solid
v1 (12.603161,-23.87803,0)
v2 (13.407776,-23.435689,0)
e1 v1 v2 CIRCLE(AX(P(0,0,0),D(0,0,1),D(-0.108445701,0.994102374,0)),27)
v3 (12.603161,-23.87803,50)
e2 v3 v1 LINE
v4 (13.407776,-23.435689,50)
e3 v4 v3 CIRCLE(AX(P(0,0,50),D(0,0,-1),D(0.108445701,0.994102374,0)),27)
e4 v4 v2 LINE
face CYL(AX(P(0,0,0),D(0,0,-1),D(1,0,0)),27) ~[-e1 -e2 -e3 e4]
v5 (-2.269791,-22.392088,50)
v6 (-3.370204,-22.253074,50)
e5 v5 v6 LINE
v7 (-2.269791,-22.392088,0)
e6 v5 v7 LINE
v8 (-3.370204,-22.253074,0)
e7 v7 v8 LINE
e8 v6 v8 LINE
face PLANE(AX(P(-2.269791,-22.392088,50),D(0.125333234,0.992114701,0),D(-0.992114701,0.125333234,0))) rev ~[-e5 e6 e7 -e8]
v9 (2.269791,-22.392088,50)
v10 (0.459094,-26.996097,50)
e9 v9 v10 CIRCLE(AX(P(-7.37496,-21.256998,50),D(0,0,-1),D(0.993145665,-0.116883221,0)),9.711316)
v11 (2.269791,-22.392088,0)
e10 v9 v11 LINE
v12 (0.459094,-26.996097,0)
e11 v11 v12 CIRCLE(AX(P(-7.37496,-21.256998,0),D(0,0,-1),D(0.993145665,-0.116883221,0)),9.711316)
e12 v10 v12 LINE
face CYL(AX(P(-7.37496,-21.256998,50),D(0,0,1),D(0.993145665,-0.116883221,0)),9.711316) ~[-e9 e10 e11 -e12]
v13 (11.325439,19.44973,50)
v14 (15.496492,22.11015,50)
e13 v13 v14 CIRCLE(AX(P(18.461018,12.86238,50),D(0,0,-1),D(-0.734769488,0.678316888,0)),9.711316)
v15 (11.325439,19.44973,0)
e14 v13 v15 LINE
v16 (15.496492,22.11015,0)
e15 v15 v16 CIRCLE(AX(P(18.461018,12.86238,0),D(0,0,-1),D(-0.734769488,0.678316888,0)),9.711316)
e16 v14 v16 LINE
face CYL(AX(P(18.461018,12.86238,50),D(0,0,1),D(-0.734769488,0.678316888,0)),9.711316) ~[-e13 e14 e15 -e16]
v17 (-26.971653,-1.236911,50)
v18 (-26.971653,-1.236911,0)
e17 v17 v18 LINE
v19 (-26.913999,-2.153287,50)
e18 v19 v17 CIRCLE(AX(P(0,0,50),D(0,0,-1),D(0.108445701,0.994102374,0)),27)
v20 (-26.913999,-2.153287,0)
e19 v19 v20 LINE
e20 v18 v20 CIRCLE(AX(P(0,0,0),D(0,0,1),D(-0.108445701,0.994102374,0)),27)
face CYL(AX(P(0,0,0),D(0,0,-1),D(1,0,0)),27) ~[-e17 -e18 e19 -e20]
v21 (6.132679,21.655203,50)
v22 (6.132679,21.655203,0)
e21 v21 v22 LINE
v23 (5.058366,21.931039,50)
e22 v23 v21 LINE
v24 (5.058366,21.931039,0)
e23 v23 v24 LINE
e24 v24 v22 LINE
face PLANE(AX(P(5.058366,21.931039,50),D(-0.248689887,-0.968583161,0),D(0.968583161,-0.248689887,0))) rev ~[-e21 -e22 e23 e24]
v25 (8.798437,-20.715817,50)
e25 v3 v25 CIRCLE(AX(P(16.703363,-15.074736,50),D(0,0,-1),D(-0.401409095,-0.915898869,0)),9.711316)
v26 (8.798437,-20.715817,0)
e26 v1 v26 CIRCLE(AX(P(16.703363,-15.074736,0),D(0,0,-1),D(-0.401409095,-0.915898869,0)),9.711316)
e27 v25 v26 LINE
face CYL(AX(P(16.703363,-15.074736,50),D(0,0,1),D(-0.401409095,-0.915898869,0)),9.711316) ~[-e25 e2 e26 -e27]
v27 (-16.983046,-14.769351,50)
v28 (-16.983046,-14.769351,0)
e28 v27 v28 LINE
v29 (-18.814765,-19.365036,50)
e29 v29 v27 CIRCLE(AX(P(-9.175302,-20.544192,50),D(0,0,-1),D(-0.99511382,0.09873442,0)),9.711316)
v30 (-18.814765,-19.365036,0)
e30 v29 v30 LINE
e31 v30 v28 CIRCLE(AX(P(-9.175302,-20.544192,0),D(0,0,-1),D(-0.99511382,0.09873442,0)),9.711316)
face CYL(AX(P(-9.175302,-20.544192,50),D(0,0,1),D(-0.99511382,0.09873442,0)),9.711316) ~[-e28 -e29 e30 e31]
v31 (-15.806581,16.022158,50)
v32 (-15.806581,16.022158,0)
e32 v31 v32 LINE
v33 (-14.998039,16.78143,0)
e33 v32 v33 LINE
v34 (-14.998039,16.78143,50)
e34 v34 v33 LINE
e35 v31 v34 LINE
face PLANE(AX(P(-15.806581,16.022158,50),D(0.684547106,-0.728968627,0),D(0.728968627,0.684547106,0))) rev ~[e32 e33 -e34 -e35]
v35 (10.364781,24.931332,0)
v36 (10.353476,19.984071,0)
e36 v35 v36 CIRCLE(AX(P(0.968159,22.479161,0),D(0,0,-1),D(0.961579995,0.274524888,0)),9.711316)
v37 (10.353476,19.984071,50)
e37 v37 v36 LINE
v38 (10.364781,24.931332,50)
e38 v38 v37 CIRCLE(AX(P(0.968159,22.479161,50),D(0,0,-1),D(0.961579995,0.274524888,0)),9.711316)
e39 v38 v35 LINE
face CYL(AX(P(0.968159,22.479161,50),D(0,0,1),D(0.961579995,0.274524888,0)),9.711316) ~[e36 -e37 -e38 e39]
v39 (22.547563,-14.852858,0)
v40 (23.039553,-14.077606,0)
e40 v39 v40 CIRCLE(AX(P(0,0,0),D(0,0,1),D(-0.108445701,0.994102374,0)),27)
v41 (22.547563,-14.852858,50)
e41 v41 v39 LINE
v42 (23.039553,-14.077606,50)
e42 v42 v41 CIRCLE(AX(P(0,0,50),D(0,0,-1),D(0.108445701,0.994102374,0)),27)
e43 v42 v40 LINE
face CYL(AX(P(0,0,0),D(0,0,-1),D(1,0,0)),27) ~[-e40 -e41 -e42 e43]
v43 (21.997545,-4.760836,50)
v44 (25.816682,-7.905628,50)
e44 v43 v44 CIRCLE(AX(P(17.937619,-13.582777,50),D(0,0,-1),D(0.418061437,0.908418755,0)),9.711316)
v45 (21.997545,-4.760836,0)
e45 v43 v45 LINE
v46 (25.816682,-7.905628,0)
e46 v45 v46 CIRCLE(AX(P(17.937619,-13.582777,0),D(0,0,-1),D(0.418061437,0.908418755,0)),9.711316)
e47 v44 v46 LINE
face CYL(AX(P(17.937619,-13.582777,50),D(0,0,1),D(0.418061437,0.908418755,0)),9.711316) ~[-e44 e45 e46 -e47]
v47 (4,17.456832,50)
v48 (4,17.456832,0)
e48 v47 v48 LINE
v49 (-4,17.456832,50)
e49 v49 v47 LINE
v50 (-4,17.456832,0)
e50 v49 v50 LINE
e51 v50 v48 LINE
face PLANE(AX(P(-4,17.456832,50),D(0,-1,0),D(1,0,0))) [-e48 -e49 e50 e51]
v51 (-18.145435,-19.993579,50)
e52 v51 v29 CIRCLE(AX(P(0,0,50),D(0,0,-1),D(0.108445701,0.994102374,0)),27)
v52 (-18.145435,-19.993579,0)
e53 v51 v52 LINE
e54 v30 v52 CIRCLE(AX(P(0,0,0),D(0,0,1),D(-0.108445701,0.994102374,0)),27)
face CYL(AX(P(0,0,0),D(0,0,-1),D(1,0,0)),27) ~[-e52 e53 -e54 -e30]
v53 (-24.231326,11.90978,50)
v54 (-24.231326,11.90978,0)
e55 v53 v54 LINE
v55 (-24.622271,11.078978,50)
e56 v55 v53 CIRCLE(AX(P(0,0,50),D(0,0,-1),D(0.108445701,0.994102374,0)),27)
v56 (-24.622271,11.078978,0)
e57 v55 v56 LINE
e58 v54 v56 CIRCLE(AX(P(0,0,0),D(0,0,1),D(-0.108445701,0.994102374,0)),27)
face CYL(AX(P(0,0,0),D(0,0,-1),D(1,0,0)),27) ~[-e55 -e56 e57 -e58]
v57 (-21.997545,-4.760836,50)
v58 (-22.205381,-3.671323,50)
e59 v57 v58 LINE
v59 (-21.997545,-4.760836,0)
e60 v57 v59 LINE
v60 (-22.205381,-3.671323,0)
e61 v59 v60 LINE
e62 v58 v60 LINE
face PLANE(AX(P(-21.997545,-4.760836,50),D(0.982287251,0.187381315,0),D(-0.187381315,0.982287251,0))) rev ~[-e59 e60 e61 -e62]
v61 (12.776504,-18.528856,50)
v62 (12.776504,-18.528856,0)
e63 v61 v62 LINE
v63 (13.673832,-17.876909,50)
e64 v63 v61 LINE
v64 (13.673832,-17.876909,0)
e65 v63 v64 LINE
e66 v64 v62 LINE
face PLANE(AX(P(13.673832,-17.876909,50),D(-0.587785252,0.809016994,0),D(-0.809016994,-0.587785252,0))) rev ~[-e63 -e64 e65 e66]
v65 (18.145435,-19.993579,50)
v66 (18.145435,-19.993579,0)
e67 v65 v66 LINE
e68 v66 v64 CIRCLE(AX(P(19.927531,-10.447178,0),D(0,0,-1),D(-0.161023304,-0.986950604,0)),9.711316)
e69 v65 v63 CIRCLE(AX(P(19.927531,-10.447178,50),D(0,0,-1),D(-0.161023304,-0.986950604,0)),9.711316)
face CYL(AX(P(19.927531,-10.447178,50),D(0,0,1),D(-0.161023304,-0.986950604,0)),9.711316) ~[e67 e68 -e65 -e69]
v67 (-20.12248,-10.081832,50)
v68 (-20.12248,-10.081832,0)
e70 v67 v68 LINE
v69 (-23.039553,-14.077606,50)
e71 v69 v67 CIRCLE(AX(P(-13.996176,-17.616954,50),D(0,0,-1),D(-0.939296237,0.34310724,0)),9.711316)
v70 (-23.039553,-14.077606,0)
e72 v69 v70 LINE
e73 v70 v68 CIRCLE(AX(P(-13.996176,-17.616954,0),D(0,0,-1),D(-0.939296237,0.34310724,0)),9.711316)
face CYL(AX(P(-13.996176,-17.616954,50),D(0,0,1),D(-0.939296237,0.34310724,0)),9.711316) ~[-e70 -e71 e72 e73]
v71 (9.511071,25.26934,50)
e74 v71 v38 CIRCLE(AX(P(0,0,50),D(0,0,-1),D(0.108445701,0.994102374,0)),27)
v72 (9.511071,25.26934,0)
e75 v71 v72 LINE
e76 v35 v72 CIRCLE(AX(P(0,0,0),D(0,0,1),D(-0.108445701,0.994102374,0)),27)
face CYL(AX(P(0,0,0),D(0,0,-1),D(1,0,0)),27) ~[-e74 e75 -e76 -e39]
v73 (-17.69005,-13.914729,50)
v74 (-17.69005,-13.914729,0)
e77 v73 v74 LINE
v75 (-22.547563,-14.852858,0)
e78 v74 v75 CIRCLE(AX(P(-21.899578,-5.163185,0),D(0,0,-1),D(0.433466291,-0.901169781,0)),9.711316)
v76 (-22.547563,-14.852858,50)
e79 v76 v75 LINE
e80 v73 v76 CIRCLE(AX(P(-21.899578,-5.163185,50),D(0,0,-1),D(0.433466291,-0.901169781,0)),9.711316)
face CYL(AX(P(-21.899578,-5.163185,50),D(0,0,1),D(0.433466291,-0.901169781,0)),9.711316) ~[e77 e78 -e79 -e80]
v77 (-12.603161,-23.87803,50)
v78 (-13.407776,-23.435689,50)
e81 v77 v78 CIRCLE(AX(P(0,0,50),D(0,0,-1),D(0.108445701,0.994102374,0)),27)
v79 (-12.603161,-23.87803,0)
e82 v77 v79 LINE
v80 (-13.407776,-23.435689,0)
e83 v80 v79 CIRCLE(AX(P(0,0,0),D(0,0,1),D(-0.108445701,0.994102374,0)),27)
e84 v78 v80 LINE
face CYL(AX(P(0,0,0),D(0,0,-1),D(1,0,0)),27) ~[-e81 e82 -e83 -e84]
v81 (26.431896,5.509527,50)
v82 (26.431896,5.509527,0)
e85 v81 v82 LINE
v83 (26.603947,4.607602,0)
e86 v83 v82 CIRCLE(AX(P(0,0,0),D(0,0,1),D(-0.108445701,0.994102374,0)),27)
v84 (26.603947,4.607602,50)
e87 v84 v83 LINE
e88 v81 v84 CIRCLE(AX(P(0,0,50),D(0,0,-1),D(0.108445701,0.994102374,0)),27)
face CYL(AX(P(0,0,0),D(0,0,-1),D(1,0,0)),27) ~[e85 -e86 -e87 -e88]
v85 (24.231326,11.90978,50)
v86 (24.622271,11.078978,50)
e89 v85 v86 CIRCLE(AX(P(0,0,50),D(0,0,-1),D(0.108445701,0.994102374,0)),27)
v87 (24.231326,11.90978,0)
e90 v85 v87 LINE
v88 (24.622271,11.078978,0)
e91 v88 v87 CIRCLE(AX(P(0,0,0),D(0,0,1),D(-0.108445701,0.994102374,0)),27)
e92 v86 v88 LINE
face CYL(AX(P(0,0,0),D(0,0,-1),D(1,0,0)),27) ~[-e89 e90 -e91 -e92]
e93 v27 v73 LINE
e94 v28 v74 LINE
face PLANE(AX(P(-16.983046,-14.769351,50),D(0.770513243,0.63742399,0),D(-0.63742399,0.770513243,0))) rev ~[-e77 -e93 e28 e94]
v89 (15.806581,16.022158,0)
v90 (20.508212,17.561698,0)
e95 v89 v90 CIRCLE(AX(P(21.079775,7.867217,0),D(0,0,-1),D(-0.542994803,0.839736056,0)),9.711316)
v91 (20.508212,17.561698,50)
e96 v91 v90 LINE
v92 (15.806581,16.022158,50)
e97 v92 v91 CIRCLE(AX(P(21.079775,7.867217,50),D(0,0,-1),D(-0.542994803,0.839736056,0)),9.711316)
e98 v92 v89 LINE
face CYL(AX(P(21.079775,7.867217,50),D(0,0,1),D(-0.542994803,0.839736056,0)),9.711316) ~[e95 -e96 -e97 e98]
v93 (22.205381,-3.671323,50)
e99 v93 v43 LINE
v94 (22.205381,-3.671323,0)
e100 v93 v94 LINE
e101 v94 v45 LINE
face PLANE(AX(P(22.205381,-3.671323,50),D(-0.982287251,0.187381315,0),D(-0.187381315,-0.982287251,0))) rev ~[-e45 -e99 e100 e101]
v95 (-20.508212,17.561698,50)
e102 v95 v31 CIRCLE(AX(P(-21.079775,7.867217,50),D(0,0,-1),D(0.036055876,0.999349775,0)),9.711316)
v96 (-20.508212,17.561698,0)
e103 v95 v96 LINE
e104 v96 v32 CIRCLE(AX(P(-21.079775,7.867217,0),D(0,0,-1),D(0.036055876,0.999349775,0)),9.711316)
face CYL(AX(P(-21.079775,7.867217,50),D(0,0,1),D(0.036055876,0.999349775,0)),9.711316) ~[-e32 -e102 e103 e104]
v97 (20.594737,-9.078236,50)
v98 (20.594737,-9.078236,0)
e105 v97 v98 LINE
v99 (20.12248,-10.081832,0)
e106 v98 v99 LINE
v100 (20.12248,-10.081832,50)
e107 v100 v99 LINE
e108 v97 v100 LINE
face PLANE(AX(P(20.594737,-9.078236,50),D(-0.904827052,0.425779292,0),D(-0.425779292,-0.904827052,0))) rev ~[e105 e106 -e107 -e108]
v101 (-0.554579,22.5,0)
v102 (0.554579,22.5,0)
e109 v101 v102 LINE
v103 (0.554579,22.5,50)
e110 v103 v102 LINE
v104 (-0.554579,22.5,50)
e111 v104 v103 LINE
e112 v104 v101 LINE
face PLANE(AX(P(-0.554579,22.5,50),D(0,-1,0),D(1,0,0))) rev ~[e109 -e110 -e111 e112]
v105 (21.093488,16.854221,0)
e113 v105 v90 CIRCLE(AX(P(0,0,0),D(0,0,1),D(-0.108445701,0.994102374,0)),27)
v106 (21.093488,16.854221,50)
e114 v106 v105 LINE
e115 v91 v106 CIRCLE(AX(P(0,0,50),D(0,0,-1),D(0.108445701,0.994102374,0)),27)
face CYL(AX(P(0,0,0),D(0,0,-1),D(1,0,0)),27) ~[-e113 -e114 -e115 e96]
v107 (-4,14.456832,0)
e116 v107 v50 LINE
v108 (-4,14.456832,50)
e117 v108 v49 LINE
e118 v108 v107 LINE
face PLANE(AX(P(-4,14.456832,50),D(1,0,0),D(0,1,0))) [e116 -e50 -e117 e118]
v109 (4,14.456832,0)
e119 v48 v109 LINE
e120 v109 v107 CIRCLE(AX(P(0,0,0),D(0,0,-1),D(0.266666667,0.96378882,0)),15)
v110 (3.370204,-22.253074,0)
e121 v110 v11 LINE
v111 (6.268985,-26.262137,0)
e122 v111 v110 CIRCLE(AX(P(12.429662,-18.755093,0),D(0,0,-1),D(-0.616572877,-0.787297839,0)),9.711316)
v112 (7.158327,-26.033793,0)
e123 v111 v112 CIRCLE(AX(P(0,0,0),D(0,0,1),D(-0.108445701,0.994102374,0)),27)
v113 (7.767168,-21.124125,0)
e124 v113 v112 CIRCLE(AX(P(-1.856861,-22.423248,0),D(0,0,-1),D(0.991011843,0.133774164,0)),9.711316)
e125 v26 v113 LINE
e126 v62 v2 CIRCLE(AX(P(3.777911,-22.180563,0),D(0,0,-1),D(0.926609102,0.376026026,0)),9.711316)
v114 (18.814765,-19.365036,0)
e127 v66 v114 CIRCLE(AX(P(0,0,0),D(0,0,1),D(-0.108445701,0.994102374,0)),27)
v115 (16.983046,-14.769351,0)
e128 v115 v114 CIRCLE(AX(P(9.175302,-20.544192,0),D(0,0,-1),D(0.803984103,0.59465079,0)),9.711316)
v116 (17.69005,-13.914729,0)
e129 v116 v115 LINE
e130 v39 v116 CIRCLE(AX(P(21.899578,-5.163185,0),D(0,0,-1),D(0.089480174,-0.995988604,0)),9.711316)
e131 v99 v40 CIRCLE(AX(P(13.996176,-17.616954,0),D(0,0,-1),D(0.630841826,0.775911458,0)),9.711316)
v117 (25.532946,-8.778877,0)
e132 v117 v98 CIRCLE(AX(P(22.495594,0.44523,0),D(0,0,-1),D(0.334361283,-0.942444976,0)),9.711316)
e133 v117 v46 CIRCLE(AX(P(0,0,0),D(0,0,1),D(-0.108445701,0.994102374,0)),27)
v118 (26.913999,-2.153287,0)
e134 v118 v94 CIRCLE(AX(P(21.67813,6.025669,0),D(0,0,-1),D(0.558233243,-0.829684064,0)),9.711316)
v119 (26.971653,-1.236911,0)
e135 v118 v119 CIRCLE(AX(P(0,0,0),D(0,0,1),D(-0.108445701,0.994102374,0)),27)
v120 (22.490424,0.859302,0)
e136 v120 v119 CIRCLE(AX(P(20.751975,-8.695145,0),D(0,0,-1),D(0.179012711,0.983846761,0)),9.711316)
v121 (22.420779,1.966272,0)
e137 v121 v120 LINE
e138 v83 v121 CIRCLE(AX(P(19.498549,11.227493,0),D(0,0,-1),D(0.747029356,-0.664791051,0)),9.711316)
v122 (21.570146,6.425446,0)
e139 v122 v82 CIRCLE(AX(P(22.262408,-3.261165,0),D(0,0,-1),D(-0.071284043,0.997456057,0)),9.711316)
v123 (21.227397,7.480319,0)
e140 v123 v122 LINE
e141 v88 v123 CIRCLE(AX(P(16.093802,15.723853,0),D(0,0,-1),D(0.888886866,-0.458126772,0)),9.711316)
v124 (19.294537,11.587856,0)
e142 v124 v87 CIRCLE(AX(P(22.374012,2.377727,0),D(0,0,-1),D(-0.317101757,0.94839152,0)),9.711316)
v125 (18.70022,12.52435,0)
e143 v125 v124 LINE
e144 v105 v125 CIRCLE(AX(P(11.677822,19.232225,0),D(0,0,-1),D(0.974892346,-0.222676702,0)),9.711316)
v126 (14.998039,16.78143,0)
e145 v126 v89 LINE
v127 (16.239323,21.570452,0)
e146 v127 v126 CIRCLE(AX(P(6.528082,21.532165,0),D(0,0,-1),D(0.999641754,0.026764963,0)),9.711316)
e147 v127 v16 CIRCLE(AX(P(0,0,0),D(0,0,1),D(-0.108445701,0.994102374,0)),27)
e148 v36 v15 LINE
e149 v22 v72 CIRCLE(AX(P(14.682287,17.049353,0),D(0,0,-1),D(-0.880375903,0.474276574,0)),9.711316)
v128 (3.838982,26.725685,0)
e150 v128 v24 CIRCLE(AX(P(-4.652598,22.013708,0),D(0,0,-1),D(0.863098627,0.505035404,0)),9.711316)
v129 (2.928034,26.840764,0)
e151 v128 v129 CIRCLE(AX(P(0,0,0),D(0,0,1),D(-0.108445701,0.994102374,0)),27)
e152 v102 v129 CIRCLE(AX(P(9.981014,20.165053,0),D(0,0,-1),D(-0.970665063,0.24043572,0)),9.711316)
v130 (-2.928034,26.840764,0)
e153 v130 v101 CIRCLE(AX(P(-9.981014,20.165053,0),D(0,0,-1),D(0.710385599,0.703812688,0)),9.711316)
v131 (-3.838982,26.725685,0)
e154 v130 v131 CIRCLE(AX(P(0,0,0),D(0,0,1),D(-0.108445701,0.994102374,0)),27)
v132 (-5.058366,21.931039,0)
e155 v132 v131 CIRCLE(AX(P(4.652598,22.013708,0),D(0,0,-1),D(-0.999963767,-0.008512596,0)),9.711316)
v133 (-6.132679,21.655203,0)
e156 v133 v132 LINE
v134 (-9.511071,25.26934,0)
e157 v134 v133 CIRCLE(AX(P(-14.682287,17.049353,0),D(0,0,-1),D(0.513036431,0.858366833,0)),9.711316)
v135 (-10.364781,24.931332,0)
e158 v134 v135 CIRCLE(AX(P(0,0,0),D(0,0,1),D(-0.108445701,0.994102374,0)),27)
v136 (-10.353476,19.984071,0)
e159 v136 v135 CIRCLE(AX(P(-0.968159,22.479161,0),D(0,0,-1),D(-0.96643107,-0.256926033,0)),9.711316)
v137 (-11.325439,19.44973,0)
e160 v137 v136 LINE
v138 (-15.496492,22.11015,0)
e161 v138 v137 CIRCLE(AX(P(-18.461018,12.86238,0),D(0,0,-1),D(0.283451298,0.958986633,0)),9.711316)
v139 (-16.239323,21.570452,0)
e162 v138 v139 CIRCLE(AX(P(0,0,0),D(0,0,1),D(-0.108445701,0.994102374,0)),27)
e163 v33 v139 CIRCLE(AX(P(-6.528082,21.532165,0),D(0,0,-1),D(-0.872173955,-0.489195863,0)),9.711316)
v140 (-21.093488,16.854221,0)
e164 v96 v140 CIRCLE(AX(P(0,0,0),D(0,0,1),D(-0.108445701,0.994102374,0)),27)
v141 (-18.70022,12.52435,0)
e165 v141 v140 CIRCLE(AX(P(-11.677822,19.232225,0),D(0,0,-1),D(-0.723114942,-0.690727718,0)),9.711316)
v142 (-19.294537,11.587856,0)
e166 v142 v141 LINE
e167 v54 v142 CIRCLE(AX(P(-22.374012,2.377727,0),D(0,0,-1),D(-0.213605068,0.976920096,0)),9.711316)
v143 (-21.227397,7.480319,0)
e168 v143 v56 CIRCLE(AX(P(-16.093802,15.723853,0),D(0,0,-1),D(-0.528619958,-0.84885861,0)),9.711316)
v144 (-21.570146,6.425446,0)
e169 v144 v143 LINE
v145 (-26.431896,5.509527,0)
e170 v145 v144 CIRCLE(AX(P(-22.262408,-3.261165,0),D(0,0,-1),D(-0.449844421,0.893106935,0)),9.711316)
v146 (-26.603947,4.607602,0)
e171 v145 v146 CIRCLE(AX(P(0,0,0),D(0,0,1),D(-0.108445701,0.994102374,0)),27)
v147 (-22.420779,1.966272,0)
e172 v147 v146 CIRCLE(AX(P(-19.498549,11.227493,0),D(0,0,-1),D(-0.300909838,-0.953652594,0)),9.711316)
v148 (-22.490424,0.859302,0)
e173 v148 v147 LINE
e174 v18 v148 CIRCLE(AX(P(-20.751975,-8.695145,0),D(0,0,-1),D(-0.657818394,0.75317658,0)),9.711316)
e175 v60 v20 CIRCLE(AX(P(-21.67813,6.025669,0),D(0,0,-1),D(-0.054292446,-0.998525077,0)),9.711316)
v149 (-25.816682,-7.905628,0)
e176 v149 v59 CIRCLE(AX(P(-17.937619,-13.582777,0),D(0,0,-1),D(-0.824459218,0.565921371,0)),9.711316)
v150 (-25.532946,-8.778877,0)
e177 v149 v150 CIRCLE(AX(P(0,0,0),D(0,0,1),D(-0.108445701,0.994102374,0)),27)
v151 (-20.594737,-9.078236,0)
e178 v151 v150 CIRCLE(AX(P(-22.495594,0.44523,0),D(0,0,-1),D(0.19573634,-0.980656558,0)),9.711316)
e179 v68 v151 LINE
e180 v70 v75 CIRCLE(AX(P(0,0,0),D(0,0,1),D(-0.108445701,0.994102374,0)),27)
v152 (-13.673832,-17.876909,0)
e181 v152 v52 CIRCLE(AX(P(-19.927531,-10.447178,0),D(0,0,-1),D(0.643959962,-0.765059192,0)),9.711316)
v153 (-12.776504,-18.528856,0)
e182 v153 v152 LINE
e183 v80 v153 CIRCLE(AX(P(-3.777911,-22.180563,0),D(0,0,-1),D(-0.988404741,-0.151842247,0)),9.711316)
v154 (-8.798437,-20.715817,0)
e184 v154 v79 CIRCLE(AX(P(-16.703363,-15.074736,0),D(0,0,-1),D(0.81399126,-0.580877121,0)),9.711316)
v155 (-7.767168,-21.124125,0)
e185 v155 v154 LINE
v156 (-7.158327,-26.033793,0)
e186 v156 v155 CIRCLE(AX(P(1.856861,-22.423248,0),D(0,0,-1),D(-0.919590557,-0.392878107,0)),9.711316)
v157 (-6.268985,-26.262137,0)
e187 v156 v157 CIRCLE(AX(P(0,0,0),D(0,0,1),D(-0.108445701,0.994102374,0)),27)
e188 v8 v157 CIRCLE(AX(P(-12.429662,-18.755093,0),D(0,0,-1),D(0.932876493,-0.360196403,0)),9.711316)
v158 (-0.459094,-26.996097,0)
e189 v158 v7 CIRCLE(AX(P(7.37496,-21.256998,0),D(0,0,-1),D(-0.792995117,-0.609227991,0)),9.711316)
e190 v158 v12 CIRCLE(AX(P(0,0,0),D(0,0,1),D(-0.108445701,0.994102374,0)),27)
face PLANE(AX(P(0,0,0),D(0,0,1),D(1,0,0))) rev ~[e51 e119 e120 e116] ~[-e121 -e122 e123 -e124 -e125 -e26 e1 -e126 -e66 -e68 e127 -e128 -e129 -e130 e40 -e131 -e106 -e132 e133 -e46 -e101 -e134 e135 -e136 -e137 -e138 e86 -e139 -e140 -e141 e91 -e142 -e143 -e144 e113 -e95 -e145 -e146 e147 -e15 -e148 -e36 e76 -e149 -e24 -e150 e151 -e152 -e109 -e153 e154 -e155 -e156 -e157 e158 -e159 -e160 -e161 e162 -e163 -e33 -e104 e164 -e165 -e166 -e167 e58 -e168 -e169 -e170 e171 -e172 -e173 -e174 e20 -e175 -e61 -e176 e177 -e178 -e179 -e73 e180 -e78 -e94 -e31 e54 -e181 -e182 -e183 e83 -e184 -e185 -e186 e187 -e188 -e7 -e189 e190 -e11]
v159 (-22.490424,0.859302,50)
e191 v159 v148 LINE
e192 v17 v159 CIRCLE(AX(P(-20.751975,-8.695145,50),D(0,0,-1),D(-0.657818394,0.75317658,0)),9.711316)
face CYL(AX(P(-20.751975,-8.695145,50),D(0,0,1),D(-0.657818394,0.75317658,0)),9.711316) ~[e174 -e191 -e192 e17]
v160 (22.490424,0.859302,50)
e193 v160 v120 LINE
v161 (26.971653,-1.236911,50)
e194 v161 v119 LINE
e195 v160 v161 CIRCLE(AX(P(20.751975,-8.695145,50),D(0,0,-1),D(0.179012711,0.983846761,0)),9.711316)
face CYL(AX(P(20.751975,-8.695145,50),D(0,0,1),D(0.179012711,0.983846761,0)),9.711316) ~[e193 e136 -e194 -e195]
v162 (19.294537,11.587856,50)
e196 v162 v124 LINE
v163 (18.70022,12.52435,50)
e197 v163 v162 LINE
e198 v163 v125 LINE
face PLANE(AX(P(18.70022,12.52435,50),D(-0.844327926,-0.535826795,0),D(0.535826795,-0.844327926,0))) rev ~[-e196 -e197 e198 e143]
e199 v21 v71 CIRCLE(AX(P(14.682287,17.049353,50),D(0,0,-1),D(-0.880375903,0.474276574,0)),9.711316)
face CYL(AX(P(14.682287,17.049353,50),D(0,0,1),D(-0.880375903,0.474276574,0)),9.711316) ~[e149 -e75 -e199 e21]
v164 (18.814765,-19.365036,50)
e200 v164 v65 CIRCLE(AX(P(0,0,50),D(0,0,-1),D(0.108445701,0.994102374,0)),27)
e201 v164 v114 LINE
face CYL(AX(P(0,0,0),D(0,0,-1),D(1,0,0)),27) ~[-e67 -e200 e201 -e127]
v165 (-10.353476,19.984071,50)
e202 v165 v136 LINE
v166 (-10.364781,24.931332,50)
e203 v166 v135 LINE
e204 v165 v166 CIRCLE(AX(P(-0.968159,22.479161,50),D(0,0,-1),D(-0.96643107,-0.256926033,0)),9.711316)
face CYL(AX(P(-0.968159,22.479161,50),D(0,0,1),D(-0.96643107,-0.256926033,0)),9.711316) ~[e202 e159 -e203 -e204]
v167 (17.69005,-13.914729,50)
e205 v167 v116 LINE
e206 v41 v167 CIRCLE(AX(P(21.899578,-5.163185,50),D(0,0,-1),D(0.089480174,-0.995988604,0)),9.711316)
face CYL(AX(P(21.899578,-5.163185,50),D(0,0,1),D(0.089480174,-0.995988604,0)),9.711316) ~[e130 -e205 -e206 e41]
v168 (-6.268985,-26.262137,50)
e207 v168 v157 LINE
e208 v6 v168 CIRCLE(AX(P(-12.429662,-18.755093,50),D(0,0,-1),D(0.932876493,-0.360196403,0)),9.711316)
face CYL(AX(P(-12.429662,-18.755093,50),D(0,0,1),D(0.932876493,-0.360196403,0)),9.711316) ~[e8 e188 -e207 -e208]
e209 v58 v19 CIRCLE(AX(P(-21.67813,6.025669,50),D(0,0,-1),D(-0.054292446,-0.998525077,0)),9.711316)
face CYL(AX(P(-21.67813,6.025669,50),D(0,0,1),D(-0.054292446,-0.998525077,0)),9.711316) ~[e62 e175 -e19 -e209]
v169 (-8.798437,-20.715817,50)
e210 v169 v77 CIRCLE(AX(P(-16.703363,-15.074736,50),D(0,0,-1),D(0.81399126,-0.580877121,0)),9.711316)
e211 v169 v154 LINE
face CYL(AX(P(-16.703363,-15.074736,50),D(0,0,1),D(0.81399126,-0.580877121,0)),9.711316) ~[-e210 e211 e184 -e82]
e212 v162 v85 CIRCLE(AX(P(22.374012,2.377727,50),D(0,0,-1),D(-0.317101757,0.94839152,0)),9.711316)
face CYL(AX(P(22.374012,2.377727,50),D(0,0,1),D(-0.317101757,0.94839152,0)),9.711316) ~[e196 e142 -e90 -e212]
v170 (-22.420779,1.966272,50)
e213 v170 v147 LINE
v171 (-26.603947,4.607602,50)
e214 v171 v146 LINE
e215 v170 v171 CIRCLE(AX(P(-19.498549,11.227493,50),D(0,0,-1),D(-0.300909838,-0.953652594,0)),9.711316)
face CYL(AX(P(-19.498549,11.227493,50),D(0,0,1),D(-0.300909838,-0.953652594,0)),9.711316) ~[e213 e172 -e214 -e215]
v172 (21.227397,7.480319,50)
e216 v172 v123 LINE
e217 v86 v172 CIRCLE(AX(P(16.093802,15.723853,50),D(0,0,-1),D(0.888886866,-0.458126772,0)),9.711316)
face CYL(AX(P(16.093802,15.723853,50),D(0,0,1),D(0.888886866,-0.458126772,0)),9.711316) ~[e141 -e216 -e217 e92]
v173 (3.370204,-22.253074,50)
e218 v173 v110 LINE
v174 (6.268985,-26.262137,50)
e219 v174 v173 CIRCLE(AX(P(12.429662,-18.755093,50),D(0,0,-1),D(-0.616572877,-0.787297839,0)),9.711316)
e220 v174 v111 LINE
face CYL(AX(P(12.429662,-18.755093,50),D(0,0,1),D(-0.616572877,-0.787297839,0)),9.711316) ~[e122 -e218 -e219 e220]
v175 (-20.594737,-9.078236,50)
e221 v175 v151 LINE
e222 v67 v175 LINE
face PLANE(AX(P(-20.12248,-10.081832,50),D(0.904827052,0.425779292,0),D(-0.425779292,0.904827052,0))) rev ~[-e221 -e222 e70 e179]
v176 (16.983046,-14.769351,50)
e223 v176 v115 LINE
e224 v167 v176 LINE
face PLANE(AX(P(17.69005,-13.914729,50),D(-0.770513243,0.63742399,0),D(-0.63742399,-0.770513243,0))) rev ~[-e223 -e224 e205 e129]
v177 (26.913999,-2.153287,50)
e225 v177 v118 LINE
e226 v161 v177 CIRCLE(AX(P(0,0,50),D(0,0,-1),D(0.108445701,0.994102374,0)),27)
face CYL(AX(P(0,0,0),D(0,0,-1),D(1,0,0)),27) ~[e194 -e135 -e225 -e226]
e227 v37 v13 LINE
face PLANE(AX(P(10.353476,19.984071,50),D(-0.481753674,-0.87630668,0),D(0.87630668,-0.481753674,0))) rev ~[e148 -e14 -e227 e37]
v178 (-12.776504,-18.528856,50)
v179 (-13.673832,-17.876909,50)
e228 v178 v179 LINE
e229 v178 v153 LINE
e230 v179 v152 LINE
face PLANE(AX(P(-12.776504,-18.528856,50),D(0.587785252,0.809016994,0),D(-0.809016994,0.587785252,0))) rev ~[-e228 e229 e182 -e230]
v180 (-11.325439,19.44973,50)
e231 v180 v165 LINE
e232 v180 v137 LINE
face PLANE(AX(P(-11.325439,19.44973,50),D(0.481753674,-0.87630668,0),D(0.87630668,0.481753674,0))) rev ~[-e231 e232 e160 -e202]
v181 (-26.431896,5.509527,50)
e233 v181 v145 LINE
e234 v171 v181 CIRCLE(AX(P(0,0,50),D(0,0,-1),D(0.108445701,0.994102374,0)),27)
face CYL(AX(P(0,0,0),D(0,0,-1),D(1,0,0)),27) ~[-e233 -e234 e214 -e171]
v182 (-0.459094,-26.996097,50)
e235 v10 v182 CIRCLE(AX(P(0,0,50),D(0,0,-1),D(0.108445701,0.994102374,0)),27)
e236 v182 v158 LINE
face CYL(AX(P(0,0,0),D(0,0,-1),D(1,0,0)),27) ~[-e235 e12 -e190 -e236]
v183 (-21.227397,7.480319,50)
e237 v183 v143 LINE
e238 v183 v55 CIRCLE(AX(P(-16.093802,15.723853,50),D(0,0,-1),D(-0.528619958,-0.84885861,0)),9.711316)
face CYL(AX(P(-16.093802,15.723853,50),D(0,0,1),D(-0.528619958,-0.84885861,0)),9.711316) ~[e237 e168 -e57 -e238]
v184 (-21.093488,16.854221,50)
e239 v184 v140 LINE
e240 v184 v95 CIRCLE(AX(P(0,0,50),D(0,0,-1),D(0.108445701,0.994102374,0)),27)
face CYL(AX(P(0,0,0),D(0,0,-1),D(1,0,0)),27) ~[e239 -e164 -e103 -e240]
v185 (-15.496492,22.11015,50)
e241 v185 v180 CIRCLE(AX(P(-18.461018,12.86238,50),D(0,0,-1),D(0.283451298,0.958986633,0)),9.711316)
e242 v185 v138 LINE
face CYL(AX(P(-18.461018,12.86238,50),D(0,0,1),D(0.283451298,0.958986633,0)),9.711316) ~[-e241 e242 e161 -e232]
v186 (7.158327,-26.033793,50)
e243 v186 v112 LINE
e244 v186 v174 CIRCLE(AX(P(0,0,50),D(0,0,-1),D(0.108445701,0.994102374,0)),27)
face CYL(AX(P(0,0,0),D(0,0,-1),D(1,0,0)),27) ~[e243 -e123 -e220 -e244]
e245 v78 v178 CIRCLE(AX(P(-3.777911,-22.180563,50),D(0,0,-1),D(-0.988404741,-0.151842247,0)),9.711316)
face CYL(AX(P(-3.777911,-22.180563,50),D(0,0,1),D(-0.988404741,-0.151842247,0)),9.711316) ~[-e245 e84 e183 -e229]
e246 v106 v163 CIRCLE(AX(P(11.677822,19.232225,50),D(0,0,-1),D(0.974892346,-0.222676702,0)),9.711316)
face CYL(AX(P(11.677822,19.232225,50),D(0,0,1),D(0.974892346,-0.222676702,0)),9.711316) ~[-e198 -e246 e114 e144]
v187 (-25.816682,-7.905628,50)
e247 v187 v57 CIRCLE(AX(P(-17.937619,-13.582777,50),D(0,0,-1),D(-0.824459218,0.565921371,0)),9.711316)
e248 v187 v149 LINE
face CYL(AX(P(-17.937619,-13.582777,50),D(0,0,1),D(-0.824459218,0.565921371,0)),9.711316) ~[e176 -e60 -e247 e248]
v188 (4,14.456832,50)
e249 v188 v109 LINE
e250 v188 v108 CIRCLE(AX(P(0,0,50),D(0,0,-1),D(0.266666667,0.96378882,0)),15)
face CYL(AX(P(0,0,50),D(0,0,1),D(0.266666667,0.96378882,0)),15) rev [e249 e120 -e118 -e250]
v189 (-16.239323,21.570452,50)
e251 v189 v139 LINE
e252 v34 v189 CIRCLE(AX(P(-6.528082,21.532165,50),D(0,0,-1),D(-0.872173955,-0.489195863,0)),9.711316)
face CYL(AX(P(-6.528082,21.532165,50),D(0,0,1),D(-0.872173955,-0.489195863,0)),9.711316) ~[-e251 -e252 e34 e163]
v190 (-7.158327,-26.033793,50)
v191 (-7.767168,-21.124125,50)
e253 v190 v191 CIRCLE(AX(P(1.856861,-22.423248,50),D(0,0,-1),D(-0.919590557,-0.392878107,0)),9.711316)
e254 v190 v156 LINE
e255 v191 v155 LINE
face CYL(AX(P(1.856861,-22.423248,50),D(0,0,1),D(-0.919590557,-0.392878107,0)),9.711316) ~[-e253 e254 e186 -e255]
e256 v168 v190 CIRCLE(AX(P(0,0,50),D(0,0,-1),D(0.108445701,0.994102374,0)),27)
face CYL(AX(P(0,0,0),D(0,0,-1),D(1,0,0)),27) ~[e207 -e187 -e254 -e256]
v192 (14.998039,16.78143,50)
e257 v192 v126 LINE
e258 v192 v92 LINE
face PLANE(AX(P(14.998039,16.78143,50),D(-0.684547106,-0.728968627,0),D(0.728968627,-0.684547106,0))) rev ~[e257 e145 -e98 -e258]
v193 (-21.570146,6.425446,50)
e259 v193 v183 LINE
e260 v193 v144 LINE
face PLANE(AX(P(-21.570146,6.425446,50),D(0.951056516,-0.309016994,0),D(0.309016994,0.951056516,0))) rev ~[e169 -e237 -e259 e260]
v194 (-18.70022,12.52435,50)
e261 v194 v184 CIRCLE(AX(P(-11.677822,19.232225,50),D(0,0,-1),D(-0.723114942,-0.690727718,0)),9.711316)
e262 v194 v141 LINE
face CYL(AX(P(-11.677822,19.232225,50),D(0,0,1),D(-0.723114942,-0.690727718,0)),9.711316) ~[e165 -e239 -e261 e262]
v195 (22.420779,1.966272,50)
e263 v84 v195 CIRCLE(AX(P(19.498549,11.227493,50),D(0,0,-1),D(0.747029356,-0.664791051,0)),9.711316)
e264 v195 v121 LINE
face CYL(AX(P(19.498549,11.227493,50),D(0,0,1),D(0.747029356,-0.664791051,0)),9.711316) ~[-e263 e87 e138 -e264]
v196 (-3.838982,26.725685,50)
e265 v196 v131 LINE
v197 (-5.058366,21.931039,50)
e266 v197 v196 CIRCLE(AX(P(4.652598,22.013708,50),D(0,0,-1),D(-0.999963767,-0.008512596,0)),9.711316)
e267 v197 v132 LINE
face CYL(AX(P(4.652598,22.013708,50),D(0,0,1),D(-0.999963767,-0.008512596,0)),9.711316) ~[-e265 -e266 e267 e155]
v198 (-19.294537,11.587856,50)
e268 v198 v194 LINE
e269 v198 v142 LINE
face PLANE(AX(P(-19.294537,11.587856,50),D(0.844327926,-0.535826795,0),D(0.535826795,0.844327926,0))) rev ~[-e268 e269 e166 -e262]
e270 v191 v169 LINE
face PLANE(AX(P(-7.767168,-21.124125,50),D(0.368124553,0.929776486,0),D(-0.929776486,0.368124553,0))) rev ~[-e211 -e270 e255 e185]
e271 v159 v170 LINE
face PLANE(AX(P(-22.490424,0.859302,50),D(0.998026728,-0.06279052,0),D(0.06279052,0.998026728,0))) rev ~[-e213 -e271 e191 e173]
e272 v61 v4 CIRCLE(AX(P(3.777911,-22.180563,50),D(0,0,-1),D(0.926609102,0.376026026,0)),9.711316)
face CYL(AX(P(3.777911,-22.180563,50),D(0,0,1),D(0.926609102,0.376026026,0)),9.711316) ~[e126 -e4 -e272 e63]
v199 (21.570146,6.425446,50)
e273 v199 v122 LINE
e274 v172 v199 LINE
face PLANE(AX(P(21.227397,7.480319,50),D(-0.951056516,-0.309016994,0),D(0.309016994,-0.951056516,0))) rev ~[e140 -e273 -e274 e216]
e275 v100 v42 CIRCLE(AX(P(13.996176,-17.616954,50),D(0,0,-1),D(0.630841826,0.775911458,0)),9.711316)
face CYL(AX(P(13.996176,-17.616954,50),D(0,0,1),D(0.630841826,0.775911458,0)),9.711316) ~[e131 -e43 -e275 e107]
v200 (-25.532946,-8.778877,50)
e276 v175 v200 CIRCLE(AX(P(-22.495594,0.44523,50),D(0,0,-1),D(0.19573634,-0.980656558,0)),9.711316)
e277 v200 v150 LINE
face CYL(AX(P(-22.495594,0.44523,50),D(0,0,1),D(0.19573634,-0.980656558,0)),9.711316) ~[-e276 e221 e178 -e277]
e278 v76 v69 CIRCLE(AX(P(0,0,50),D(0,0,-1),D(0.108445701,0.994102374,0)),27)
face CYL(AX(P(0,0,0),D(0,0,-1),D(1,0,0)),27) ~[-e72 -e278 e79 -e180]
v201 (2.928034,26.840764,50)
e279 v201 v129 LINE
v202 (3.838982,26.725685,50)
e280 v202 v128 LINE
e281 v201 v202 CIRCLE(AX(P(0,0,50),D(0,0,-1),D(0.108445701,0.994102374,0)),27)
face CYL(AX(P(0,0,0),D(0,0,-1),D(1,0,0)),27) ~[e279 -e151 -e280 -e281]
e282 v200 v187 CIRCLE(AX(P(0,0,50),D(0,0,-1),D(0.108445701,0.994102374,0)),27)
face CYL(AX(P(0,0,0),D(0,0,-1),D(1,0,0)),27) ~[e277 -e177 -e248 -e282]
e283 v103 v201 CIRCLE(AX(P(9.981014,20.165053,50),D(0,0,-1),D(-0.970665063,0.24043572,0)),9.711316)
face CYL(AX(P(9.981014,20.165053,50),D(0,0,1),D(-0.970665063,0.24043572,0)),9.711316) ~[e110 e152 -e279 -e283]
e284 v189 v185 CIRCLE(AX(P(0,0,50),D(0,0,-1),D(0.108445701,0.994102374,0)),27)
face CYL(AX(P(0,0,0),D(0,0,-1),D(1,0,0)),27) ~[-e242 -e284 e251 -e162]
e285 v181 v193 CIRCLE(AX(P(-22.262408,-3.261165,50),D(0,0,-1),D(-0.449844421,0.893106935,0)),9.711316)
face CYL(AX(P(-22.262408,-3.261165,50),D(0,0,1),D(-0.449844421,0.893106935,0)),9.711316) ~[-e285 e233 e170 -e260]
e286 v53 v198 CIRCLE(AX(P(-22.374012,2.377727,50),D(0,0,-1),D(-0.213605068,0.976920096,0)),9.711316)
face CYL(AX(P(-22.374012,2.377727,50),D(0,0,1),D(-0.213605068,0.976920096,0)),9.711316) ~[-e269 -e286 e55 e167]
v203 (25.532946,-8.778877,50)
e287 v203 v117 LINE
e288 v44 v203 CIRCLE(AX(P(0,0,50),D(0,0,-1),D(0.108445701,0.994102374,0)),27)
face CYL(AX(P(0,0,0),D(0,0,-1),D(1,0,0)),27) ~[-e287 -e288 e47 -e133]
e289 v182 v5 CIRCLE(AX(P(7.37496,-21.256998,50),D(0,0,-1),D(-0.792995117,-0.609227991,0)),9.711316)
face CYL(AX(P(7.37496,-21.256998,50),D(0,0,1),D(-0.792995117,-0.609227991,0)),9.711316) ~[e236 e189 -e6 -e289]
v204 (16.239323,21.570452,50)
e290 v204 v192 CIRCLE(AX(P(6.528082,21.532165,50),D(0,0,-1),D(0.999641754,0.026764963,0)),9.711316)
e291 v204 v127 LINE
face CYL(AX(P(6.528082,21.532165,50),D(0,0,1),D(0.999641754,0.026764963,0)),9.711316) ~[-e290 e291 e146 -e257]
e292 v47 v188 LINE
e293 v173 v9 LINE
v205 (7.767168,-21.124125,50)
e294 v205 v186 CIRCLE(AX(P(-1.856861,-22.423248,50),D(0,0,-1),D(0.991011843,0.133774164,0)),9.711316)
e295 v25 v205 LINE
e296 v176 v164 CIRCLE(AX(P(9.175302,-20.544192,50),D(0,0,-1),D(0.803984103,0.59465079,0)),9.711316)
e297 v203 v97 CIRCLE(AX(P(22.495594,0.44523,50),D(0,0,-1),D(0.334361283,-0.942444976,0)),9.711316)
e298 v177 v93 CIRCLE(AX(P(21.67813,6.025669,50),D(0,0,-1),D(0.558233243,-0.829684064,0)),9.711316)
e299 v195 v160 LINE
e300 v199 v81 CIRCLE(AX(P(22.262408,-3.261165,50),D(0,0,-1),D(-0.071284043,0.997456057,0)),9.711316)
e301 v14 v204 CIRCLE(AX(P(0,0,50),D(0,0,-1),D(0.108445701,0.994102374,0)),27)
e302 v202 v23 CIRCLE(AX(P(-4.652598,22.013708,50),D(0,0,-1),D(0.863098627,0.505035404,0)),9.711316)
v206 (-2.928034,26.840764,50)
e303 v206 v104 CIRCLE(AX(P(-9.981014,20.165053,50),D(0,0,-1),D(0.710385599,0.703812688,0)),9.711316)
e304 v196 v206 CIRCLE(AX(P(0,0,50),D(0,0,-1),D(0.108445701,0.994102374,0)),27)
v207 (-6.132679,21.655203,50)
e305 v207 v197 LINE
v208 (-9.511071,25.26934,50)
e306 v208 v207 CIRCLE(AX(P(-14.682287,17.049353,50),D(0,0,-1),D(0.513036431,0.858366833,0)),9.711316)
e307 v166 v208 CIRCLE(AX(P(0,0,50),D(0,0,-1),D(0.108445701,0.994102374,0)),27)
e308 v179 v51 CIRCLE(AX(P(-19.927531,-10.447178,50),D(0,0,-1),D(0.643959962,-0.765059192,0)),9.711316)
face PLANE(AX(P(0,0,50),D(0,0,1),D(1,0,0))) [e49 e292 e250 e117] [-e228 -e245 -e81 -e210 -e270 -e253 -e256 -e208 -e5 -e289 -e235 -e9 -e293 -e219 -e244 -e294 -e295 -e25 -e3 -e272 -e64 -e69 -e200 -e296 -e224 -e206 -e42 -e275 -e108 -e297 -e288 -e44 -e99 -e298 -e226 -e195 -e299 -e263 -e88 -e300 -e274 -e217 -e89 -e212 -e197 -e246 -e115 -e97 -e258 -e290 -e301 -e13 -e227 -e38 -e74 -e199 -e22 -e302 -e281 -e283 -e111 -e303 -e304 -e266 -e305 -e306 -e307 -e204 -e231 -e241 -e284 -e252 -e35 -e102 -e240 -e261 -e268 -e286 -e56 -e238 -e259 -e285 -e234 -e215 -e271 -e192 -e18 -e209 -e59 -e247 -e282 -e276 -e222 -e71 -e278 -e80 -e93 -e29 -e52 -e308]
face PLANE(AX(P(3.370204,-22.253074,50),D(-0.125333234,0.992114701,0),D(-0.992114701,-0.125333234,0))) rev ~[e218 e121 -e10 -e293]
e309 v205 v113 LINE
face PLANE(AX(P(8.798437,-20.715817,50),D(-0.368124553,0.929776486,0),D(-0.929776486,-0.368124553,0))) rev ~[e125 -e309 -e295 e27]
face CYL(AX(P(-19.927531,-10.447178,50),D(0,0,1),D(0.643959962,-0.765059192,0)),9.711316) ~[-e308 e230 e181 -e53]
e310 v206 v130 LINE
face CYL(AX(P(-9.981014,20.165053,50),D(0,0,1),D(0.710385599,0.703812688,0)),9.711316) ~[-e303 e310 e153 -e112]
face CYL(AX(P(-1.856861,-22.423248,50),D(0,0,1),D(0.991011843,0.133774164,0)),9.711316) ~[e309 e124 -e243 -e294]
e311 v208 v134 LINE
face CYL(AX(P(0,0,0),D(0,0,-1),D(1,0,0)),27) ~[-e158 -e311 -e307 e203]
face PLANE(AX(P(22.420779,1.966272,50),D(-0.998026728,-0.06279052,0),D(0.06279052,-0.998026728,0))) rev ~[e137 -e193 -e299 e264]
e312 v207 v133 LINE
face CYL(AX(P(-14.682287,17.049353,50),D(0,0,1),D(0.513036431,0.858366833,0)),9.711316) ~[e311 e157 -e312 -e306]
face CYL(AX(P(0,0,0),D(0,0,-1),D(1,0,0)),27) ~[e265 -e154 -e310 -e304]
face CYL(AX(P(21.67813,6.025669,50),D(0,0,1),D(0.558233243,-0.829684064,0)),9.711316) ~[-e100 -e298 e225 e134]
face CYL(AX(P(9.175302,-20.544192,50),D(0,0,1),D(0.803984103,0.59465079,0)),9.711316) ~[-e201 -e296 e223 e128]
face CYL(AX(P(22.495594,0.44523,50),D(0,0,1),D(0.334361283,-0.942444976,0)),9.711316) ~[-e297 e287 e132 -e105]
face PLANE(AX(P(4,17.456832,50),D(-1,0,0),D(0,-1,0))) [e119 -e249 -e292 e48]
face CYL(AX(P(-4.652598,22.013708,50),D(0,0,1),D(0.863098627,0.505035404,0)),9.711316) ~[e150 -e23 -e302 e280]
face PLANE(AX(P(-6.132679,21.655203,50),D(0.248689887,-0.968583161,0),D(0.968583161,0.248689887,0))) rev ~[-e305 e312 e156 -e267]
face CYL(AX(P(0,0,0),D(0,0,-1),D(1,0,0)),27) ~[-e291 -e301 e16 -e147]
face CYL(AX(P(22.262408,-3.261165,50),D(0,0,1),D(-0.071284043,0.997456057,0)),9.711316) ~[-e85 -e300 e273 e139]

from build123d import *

# Parameters (mm, degrees)
SKETCH1_R           = 27
BOSS_EXTRUDE1_DEPTH = 50
CUT_EXTRUDE1_DEPTH  = 50
CIRPATTERN1_COUNT   = 25
CUT_EXTRUDE2_DEPTH  = 50


with BuildPart() as part:
    # Sketch1 → Boss-Extrude1 (new body)
    with BuildSketch(Plane.XY):
        Circle(SKETCH1_R)
    extrude(amount=BOSS_EXTRUDE1_DEPTH)

    # Sketch3 → Cut-Extrude1 (cut)
    with BuildSketch(Plane.XY.offset(50)):
        with BuildLine():
            Line((3.082235405, 27), (-3.082235405, 27))
            ThreePointArc((-3.082235405, 27), (-1.513981077, 24.920996669), (-0.55457938, 22.5))
            Line((-0.55457938, 22.5), (0.55457938, 22.5))
            ThreePointArc((0.55457938, 22.5), (1.513981077, 24.920996669), (3.082235405, 27))
        make_face()
    cut_extrude1 = extrude(amount=-CUT_EXTRUDE1_DEPTH, mode=Mode.SUBTRACT)

    # CirPattern1: Cut-Extrude1 ×25 about axis
    cirpattern1_axis = Axis((0, 0, 0), (0, 0, 1))
    for i in range(1, CIRPATTERN1_COUNT):
        add(cut_extrude1.rotate(cirpattern1_axis, i * 360 / CIRPATTERN1_COUNT), mode=Mode.SUBTRACT)

    # Sketch4 → Cut-Extrude2 (cut)
    with BuildSketch(Plane.XY.offset(50)):
        with BuildLine():
            Line((-4, 14.456832295), (-4, 17.456832295))
            Line((-4, 17.456832295), (4, 17.456832295))
            Line((4, 17.456832295), (4, 14.456832295))
            ThreePointArc((4, 14.456832295), (0, -15), (-4, 14.456832295))
        make_face()
    extrude(amount=-CUT_EXTRUDE2_DEPTH, mode=Mode.SUBTRACT)


solid = part.part
